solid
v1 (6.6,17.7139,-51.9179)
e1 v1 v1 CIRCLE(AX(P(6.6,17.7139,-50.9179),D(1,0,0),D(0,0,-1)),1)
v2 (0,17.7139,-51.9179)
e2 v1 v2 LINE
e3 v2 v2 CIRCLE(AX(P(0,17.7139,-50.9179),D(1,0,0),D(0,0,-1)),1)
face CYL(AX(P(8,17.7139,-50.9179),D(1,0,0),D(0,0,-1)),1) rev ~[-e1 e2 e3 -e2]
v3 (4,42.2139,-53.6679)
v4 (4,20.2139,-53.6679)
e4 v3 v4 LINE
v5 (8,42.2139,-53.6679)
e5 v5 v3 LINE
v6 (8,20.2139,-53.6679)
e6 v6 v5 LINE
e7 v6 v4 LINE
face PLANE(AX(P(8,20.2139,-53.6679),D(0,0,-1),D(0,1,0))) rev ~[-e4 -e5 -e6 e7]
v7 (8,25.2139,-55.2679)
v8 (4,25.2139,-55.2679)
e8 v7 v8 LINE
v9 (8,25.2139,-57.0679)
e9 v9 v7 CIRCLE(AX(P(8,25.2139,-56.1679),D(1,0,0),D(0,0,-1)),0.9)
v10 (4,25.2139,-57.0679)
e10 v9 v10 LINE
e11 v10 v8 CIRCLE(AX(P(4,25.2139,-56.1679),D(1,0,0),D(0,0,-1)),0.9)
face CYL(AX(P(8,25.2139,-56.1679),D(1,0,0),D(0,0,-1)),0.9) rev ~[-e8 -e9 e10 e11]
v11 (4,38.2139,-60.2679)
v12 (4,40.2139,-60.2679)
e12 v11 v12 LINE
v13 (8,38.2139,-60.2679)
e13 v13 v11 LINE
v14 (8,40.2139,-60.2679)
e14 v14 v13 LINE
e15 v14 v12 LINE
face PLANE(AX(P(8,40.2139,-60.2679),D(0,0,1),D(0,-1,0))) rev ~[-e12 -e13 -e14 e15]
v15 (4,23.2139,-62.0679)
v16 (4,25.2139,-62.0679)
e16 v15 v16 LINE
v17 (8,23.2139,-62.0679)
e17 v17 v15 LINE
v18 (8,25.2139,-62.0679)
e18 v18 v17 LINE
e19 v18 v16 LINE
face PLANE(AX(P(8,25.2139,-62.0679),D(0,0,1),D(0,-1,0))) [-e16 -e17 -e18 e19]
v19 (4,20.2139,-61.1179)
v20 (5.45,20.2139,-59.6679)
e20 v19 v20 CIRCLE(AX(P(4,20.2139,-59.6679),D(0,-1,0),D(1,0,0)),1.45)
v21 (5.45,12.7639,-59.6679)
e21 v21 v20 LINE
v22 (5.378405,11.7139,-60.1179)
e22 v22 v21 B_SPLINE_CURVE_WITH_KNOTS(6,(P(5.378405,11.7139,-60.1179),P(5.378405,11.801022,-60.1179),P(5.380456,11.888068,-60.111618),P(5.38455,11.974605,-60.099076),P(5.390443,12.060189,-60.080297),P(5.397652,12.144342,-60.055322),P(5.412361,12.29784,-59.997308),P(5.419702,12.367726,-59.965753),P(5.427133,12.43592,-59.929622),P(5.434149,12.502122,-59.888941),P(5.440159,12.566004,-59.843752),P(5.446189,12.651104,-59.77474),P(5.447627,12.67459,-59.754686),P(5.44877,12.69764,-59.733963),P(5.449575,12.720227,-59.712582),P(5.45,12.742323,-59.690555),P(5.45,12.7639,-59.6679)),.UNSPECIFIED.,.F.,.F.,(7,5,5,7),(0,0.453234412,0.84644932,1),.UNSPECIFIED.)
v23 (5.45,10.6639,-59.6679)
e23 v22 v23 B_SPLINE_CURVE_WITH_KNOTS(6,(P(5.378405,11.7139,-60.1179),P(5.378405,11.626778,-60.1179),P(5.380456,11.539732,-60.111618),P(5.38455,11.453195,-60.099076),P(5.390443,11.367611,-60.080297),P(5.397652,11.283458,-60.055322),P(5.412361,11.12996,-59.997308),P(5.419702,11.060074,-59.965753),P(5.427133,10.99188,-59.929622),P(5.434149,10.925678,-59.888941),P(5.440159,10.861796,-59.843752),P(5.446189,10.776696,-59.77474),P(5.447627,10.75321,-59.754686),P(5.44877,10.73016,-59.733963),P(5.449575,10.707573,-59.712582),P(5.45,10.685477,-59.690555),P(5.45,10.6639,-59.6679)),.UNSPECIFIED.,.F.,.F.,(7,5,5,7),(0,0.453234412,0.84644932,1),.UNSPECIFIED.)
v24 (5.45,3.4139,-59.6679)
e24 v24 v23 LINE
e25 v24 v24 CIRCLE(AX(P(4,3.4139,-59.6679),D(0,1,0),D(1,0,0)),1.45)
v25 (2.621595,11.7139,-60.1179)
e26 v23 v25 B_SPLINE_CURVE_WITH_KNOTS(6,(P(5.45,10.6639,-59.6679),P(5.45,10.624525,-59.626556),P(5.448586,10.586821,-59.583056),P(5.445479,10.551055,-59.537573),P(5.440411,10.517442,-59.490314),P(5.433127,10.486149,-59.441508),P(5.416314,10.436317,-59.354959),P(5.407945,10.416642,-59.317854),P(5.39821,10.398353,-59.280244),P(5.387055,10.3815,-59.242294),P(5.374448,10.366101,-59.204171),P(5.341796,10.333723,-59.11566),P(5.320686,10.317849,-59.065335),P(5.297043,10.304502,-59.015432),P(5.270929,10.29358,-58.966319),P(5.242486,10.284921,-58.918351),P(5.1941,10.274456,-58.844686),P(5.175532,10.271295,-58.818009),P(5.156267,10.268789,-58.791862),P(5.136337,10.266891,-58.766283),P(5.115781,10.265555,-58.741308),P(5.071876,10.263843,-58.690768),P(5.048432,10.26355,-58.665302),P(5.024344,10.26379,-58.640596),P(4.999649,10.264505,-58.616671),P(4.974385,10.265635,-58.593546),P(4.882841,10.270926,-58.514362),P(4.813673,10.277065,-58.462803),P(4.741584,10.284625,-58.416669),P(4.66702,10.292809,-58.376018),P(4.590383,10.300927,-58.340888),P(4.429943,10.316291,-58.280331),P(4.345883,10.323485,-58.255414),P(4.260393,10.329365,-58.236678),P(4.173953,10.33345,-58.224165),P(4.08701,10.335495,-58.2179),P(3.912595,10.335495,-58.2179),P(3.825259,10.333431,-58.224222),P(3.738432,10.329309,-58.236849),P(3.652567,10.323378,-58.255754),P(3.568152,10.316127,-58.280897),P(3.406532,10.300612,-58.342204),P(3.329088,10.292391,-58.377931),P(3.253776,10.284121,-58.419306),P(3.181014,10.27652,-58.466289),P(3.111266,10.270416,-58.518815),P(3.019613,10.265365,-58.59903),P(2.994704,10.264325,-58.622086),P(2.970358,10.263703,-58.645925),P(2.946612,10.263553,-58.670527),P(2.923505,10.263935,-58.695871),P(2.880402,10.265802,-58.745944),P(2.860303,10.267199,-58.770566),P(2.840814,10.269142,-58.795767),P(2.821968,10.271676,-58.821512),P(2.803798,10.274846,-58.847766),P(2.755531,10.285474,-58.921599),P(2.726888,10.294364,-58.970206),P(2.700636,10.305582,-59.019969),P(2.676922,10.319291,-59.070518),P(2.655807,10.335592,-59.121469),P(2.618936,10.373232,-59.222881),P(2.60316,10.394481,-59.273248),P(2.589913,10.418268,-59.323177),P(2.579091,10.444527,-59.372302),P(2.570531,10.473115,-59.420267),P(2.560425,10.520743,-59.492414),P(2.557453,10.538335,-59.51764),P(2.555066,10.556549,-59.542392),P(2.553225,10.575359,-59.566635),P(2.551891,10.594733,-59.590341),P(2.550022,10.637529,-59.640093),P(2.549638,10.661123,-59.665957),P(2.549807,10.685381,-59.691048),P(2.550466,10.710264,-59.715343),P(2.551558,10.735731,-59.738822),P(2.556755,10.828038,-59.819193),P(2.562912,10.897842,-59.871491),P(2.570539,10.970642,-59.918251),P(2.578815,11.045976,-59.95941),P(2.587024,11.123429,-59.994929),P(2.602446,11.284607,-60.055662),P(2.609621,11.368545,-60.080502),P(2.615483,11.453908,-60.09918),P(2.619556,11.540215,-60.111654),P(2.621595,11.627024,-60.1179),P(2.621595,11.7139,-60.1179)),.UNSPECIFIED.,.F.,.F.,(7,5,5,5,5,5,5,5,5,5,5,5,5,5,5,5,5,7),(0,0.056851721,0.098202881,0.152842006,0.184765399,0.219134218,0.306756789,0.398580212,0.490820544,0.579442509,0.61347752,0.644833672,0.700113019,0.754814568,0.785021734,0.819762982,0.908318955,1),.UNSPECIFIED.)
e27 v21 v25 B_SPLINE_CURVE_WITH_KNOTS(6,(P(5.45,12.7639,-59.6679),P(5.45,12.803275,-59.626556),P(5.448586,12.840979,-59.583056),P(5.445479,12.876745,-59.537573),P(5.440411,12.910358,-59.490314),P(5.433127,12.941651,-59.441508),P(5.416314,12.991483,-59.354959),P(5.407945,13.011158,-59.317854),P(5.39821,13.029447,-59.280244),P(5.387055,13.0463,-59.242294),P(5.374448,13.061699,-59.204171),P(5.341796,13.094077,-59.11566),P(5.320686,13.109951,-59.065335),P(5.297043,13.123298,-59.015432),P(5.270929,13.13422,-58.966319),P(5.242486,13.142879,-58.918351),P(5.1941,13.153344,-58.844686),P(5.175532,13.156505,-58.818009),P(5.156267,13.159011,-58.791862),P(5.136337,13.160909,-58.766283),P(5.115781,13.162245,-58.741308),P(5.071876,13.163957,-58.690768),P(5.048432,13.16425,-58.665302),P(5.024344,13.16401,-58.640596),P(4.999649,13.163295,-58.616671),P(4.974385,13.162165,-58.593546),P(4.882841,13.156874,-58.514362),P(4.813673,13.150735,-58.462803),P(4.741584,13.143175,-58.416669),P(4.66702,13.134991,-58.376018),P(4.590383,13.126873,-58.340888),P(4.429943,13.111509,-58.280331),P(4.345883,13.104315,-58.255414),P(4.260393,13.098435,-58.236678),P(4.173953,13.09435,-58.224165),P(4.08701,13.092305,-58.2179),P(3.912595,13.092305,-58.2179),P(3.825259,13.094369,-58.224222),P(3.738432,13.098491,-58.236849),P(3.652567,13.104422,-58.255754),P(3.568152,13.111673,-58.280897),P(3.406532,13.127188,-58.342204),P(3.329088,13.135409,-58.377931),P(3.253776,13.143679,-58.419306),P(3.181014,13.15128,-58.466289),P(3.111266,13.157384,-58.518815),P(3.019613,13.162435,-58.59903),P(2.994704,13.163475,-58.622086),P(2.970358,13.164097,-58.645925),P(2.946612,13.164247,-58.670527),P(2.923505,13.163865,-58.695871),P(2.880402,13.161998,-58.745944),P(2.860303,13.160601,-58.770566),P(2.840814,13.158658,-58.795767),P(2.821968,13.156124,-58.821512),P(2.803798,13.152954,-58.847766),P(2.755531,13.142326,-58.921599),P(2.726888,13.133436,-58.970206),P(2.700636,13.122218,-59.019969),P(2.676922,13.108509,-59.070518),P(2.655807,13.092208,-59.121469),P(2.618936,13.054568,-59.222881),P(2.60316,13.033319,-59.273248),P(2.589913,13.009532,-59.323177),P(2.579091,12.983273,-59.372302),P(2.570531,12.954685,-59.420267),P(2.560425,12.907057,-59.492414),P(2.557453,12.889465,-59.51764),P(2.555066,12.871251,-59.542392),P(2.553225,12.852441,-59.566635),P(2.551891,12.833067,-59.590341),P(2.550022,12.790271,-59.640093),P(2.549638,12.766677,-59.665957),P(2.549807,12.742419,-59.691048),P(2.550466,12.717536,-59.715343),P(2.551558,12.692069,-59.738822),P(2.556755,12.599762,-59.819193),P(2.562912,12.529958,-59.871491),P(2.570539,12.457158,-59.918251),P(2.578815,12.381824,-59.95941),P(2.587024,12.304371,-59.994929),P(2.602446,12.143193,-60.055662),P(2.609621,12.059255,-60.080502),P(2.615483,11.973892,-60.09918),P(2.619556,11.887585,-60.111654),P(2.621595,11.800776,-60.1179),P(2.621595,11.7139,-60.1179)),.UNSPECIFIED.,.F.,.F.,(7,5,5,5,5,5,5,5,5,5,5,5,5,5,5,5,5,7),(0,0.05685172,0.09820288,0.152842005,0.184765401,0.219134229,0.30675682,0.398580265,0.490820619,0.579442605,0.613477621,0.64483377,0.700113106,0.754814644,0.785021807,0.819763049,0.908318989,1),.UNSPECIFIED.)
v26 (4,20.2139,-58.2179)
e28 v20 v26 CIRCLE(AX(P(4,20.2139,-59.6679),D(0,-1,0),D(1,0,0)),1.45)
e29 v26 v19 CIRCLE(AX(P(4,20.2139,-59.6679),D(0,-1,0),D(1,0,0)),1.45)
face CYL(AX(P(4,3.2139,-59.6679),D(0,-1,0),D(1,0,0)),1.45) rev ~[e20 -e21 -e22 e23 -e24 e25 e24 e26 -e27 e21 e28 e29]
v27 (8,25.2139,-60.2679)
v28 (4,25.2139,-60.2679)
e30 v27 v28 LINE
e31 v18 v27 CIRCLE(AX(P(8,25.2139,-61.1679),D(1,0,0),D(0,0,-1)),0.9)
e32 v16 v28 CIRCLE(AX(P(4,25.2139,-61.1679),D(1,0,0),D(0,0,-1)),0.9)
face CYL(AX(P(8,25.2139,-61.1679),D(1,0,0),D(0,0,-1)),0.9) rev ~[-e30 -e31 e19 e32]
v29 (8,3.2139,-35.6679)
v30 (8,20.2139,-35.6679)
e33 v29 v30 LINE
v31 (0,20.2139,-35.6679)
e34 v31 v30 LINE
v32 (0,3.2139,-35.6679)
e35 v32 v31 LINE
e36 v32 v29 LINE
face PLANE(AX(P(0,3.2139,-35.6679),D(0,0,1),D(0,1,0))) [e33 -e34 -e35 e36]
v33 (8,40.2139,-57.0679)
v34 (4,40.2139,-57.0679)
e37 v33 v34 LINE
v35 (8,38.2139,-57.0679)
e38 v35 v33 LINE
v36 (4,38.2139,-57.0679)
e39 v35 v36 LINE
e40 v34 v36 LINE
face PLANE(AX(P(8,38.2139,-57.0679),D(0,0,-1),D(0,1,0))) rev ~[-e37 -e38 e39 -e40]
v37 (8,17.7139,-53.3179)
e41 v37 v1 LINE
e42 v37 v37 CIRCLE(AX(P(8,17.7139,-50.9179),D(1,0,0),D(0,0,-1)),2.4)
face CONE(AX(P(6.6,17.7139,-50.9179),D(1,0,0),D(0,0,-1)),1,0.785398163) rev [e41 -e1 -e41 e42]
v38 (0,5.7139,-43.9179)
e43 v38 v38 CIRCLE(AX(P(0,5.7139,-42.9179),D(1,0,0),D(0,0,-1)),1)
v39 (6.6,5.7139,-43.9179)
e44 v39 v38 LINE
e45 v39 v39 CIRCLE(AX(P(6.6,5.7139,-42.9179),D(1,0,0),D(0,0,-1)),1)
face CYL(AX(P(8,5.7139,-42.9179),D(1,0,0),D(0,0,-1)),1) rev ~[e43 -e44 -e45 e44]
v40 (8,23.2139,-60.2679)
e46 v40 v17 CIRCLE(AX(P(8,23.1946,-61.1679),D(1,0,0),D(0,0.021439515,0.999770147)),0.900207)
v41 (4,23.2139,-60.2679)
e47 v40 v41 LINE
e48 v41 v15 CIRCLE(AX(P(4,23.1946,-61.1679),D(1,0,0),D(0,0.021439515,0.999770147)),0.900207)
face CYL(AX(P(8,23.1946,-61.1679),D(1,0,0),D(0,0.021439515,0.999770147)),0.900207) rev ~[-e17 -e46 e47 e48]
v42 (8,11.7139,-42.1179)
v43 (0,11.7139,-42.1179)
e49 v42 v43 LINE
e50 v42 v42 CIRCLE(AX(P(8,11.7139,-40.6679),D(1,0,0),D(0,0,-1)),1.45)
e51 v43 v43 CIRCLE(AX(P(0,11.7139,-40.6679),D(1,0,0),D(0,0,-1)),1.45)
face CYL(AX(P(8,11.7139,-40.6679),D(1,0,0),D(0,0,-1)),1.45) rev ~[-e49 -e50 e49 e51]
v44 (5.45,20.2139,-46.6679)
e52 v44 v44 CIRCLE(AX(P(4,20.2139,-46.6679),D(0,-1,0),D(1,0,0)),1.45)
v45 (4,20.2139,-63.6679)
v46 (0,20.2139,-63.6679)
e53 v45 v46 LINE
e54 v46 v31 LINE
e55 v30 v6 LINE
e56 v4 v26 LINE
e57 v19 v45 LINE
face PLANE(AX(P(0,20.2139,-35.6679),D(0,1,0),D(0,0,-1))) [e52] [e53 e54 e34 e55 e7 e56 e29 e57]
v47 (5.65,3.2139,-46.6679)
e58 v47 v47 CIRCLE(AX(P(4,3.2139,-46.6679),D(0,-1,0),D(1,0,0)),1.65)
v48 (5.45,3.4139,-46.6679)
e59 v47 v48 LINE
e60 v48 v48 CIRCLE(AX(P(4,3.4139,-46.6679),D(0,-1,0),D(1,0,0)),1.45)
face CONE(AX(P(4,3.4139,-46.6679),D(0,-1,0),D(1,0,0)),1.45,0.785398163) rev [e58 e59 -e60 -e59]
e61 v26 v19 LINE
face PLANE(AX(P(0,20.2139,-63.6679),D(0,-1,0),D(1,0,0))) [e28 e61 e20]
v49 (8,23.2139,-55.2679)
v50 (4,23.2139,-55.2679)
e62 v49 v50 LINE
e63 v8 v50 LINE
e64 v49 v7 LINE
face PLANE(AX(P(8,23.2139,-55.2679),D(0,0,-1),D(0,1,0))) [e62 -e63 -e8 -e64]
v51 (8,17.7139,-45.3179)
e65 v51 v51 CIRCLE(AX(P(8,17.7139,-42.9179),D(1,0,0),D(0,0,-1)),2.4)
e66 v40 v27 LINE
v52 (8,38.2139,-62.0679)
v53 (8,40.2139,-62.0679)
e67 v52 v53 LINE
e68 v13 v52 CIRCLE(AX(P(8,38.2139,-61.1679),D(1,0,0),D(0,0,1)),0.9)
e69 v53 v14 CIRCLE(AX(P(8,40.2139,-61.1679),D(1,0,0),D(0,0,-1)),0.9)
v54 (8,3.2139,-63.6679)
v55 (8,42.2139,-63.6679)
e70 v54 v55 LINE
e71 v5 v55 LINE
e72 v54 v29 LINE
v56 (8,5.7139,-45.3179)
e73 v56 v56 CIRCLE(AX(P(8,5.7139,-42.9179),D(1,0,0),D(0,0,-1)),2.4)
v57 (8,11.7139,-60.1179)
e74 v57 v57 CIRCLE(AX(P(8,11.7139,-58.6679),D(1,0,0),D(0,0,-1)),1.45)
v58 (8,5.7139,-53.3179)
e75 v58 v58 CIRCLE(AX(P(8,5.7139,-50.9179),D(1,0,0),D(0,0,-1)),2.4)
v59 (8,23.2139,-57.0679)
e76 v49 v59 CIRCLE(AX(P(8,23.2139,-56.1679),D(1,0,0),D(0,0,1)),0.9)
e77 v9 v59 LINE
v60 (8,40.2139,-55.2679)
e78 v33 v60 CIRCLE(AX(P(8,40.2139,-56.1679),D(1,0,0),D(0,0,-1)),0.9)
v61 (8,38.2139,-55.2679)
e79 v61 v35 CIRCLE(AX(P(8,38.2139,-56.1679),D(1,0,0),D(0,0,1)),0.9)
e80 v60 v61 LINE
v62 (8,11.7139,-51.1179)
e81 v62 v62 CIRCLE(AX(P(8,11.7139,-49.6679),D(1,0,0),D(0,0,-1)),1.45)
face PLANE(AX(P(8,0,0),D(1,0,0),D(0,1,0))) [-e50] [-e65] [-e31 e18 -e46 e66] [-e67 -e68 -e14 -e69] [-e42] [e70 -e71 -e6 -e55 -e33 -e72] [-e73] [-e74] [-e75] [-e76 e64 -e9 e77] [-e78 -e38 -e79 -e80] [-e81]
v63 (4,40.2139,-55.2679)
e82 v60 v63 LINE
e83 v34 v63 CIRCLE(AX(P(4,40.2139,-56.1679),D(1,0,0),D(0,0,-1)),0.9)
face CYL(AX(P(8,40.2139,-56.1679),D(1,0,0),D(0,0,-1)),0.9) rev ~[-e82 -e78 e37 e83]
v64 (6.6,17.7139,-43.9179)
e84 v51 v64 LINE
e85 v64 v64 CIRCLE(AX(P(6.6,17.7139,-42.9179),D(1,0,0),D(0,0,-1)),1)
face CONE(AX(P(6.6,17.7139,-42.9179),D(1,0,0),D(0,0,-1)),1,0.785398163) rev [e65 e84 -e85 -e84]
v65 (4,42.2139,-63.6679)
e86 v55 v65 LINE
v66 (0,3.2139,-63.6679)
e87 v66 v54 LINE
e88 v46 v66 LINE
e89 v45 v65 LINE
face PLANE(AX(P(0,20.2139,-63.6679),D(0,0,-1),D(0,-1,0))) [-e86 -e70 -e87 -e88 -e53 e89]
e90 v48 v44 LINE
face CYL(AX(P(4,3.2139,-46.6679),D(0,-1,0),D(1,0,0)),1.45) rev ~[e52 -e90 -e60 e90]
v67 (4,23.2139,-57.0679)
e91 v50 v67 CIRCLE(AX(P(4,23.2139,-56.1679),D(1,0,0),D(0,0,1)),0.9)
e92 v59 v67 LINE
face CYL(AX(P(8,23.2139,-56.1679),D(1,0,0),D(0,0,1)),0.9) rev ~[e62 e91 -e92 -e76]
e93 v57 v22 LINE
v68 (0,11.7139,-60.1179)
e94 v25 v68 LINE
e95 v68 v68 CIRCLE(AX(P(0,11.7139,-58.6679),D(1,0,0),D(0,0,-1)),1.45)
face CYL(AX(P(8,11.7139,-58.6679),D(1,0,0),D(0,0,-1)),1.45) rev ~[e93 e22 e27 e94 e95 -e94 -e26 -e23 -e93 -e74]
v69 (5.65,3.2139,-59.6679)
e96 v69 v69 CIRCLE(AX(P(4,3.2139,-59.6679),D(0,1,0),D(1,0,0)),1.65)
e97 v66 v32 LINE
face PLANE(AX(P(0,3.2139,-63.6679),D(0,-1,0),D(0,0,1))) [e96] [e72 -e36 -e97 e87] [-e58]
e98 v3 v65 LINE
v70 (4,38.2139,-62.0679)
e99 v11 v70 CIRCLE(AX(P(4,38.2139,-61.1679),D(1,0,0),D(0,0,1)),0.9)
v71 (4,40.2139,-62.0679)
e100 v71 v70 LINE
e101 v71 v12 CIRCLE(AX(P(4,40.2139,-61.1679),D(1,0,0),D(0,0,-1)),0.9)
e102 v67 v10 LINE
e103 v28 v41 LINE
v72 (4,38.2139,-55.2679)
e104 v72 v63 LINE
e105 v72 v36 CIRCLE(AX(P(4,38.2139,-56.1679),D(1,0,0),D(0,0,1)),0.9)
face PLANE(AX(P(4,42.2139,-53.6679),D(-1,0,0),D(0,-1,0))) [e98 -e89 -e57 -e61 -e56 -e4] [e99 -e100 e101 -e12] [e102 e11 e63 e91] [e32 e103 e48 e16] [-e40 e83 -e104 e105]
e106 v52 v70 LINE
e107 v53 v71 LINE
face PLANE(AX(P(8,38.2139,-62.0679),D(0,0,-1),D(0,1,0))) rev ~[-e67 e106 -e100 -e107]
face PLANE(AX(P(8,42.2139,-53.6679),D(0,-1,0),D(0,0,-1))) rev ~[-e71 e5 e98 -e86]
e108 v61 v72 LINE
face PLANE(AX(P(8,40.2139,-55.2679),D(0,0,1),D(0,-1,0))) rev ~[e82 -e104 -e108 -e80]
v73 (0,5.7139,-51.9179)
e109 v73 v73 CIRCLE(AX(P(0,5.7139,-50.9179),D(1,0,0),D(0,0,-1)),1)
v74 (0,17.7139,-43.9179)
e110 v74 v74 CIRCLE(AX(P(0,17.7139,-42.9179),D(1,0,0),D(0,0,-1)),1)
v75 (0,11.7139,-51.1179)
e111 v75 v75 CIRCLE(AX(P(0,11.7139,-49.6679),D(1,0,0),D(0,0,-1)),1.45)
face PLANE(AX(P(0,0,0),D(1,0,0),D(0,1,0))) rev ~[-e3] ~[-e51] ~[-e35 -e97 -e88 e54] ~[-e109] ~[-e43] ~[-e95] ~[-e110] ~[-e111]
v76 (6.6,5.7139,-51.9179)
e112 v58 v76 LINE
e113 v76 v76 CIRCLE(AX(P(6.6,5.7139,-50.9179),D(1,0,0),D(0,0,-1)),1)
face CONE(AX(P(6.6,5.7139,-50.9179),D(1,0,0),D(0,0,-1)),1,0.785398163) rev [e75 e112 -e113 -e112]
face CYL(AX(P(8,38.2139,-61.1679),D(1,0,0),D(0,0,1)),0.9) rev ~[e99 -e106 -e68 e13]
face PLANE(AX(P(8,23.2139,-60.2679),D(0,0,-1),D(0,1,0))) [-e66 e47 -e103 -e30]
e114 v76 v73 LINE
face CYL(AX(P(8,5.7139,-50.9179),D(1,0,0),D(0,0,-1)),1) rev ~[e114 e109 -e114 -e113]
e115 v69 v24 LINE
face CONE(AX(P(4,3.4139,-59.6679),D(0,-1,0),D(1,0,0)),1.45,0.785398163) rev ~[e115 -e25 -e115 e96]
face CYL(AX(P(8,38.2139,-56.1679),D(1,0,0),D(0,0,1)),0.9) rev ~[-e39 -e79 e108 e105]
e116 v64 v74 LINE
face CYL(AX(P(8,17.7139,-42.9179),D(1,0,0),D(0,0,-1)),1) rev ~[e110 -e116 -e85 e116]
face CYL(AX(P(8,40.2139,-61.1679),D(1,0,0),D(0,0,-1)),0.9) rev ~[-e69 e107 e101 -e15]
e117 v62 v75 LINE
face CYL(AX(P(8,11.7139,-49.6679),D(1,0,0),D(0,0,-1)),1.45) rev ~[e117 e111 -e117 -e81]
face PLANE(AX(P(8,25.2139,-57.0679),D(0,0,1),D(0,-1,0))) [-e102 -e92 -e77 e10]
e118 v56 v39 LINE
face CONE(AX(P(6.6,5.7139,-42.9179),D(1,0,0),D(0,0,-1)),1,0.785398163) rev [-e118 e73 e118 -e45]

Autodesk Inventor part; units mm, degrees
ref_plane "YZ Plane" through (0, 0, 0) normal (1, 0, 0) x (0, 1, 0)
ref_plane "XZ Plane" through (0, 0, 0) normal (0, 1, 0) x (-1, 0, 0)
ref_plane "XY Plane" through (0, 0, 0) normal (0, 0, 1) x (1, 0, 0)
sketch "Sketch1" plane through (0, 0, 0) normal (1, 0, 0) x (0, 1, 0)
  line L0 (3.2139, -35.6679) -> (20.2139, -35.6679)
  line L1 (20.2139, -35.6679) -> (20.2139, -63.6679)
  line L2 (20.2139, -63.6679) -> (3.2139, -63.6679)
  line L3 (3.2139, -63.6679) -> (3.2139, -35.6679)
  point P0 (0, 0)
  dimension "d0" = 17
  dimension "d1" = 28
extrude "Extrusion1" add sketch "Sketch1" along normal blind 8
sketch "Sketch2" plane through (8, 0, 0) normal (1, 0, 0) x (0, 0, -1)
  line L0 (63.6679, 3.2139) -> (63.6679, 20.2139) projected
  line L1 (63.6679, 20.2139) -> (53.6679, 20.2139)
  line L2 (53.6679, 20.2139) -> (53.6679, 42.2139)
  line L3 (53.6679, 42.2139) -> (63.6679, 42.2139)
  line L4 (63.6679, 42.2139) -> (63.6679, 20.2139)
  point P0 (0, 0)
  dimension "d4" = 10
  dimension "d5" = 22
extrude "Extrusion2" add sketch "Sketch2" against normal up to surface (8 mm away)
sketch "Sketch3" plane through (8, 20.2139, -53.6679) normal (0, 0, 1) x (1, 0, 0)
  line L0 (-8, 0) -> (0, 0) projected
  line L1 (-8, -17) -> (-8, 22) projected
  line L2 (-4, 0) -> (-8, 0)
  line L3 (-8, 0) -> (-8, 22)
  line L4 (-8, 22) -> (-4, 22)
  line L5 (-4, 22) -> (-4, 0)
  point P0 (-8, -20.2139)
  dimension "d8" = 4
extrude "Extrusion3" cut sketch "Sketch3" against normal through all
sketch "Sketch4" plane through (8, 0, 0) normal (1, 0, 0) x (0, 0, -1)
  circle A0 centre (42.9179, 5.7139) radius 1
  circle A1 centre (42.9179, 17.7139) radius 1
  circle A2 centre (50.9179, 5.7139) radius 1
  circle A3 centre (50.9179, 17.7139) radius 1
  line L0 (35.6679, 3.2139) -> (63.6679, 3.2139) projected
  line L1 (53.6679, 20.2139) -> (35.6679, 20.2139) projected
  line L2 (35.6679, 20.2139) -> (35.6679, 3.2139) projected
  point P0 (0, 0)
  dimension "d11" = 2
  dimension "d13" = 2
  dimension "d14" = 2
  dimension "d15" = 2
  dimension "d16" = 2.5
  dimension "d17" = 2.5
  dimension "d18" = 2.5
  dimension "d19" = 2.5
  dimension "d20" = 7.25
  dimension "d21" = 7.25
  dimension "d22" = 8
  dimension "d23" = 8
extrude "Extrusion4" cut sketch "Sketch4" against normal through all
sketch "Sketch5" plane through (0, 3.2139, -63.6679) normal (0, -1, 0) x (1, 0, 0)
  line L0 (4, 10) -> (4, 0) projected
  circle A0 centre (4, 4) radius 1.45
  circle A1 centre (4, 17) radius 1.45
  line L1 (8, 28) -> (8, 0) projected
  line L2 (0, 0) -> (8, 0) projected
  point P0 (0, 63.6679)
  dimension "d26" = 2.9
  dimension "d27" = 2.9
  dimension "d28" = 4
  dimension "d29" = 4
  dimension "d30" = 17
extrude "Extrusion5" cut sketch "Sketch5" against normal up to surface (17 mm away)
chamfer "Chamfer1" distance 0.2 angle 45 2 edges at (2.55, 3.2139, -46.6679) (2.55, 3.2139, -59.6679)
sketch "Sketch8" plane through (8, 0, 0) normal (1, 0, 0) x (0, 0, -1)
  circle A0 centre (40.6679, 11.7139) radius 1.45
  circle A1 centre (58.6679, 11.7139) radius 1.45
  circle A2 centre (49.6679, 11.7139) radius 1.45
  line L0 (53.6679, 20.2139) -> (35.6679, 20.2139) projected
  line L1 (35.6679, 3.2139) -> (63.6679, 3.2139) projected
  line L2 (63.6679, 3.2139) -> (63.6679, 42.2139) projected
  line L3 (35.6679, 20.2139) -> (35.6679, 3.2139) projected
  point P0 (0, 0)
  dimension "d53" = 8.5
  dimension "d54" = 8.5
  dimension "d55" = 8.5
  dimension "d56" = 2.9
  dimension "d57" = 2.9
  dimension "d58" = 2.9
  dimension "d59" = 5
  dimension "d60" = 14
  dimension "d61" = 5
extrude "Extrusion7" cut sketch "Sketch8" against normal through all
chamfer "Chamfer3" distance 1.4 angle 45 4 edges at (8, 5.7139, -41.9179) (8, 17.7139, -41.9179) (8, 17.7139, -49.9179) (8, 5.7139, -49.9179)
sketch "Sketch9" plane through (8, 0, 0) normal (1, 0, 0) x (0, 0, -1)
  circle A0 centre (56.1679, 25.2139) radius 0.9
  circle A1 centre (61.1679, 25.2139) radius 0.9
  circle A2 centre (61.1679, 40.2139) radius 0.9
  circle A3 centre (56.1679, 40.2139) radius 0.9
  line L0 (53.6679, 42.2139) -> (53.6679, 20.2139) projected
  line L1 (63.6679, 42.2139) -> (53.6679, 42.2139) projected
  line L2 (63.6679, 3.2139) -> (63.6679, 42.2139) projected
  line L3 (55.2679, 25.2139) -> (57.0679, 25.2139)
  line L4 (57.0679, 25.2139) -> (57.0679, 23.2139)
  line L5 (57.0679, 23.2139) -> (55.2679, 23.2139)
  line L6 (55.2679, 23.2139) -> (55.2679, 25.2139)
  line L7 (60.2679, 25.2139) -> (62.0679, 25.2139)
  line L8 (62.0679, 25.2139) -> (62.0679, 23.2139)
  line L9 (62.0679, 23.2139) -> (60.2679, 23.2139)
  line L10 (60.2679, 23.2139) -> (60.2679, 25.2139)
  line L11 (57.0679, 40.2139) -> (55.2679, 40.2139)
  line L12 (55.2679, 40.2139) -> (55.2679, 38.2139)
  line L13 (55.2679, 38.2139) -> (57.0679, 38.2139)
  line L14 (57.0679, 38.2139) -> (57.0679, 40.2139)
  line L15 (62.0679, 40.2139) -> (60.2679, 40.2139)
  line L16 (60.2679, 40.2139) -> (60.2679, 38.2139)
  line L17 (60.2679, 38.2139) -> (62.0679, 38.2139)
  line L18 (62.0679, 38.2139) -> (62.0679, 40.2139)
  arc A4 (55.2679, 23.2139) -> (57.0679, 23.2139) centre (56.1679, 23.2139) ccw
  arc A5 (60.2679, 23.2139) -> (62.0679, 23.2139) centre (61.1679, 23.1946) ccw
  arc A6 (60.2679, 38.2139) -> (62.0679, 38.2139) centre (61.1679, 38.2139) ccw
  arc A7 (55.2679, 38.2139) -> (57.0679, 38.2139) centre (56.1679, 38.2139) ccw
  point P0 (0, 0)
  dimension "d70" = 1.8
  dimension "d71" = 1.8
  dimension "d72" = 1.8
  dimension "d73" = 1.8
  dimension "d74" = 2.5
  dimension "d75" = 2
  dimension "d76" = 2
  dimension "d77" = 2.5
  dimension "d78" = 2.5
  dimension "d79" = 2.5
  dimension "d80" = 15
  dimension "d81" = 15
  dimension "d82" = 1.8
  dimension "d83" = 1.8
  dimension "d84" = 1.8
  dimension "d85" = 2
  dimension "d86" = 2
  dimension "d87" = 2
  dimension "d88" = 0.9
  dimension "d89" = 0.9
extrude "Extrusion8" cut sketch "Sketch9" against normal through all
properties part number "Z_probe_holder"
